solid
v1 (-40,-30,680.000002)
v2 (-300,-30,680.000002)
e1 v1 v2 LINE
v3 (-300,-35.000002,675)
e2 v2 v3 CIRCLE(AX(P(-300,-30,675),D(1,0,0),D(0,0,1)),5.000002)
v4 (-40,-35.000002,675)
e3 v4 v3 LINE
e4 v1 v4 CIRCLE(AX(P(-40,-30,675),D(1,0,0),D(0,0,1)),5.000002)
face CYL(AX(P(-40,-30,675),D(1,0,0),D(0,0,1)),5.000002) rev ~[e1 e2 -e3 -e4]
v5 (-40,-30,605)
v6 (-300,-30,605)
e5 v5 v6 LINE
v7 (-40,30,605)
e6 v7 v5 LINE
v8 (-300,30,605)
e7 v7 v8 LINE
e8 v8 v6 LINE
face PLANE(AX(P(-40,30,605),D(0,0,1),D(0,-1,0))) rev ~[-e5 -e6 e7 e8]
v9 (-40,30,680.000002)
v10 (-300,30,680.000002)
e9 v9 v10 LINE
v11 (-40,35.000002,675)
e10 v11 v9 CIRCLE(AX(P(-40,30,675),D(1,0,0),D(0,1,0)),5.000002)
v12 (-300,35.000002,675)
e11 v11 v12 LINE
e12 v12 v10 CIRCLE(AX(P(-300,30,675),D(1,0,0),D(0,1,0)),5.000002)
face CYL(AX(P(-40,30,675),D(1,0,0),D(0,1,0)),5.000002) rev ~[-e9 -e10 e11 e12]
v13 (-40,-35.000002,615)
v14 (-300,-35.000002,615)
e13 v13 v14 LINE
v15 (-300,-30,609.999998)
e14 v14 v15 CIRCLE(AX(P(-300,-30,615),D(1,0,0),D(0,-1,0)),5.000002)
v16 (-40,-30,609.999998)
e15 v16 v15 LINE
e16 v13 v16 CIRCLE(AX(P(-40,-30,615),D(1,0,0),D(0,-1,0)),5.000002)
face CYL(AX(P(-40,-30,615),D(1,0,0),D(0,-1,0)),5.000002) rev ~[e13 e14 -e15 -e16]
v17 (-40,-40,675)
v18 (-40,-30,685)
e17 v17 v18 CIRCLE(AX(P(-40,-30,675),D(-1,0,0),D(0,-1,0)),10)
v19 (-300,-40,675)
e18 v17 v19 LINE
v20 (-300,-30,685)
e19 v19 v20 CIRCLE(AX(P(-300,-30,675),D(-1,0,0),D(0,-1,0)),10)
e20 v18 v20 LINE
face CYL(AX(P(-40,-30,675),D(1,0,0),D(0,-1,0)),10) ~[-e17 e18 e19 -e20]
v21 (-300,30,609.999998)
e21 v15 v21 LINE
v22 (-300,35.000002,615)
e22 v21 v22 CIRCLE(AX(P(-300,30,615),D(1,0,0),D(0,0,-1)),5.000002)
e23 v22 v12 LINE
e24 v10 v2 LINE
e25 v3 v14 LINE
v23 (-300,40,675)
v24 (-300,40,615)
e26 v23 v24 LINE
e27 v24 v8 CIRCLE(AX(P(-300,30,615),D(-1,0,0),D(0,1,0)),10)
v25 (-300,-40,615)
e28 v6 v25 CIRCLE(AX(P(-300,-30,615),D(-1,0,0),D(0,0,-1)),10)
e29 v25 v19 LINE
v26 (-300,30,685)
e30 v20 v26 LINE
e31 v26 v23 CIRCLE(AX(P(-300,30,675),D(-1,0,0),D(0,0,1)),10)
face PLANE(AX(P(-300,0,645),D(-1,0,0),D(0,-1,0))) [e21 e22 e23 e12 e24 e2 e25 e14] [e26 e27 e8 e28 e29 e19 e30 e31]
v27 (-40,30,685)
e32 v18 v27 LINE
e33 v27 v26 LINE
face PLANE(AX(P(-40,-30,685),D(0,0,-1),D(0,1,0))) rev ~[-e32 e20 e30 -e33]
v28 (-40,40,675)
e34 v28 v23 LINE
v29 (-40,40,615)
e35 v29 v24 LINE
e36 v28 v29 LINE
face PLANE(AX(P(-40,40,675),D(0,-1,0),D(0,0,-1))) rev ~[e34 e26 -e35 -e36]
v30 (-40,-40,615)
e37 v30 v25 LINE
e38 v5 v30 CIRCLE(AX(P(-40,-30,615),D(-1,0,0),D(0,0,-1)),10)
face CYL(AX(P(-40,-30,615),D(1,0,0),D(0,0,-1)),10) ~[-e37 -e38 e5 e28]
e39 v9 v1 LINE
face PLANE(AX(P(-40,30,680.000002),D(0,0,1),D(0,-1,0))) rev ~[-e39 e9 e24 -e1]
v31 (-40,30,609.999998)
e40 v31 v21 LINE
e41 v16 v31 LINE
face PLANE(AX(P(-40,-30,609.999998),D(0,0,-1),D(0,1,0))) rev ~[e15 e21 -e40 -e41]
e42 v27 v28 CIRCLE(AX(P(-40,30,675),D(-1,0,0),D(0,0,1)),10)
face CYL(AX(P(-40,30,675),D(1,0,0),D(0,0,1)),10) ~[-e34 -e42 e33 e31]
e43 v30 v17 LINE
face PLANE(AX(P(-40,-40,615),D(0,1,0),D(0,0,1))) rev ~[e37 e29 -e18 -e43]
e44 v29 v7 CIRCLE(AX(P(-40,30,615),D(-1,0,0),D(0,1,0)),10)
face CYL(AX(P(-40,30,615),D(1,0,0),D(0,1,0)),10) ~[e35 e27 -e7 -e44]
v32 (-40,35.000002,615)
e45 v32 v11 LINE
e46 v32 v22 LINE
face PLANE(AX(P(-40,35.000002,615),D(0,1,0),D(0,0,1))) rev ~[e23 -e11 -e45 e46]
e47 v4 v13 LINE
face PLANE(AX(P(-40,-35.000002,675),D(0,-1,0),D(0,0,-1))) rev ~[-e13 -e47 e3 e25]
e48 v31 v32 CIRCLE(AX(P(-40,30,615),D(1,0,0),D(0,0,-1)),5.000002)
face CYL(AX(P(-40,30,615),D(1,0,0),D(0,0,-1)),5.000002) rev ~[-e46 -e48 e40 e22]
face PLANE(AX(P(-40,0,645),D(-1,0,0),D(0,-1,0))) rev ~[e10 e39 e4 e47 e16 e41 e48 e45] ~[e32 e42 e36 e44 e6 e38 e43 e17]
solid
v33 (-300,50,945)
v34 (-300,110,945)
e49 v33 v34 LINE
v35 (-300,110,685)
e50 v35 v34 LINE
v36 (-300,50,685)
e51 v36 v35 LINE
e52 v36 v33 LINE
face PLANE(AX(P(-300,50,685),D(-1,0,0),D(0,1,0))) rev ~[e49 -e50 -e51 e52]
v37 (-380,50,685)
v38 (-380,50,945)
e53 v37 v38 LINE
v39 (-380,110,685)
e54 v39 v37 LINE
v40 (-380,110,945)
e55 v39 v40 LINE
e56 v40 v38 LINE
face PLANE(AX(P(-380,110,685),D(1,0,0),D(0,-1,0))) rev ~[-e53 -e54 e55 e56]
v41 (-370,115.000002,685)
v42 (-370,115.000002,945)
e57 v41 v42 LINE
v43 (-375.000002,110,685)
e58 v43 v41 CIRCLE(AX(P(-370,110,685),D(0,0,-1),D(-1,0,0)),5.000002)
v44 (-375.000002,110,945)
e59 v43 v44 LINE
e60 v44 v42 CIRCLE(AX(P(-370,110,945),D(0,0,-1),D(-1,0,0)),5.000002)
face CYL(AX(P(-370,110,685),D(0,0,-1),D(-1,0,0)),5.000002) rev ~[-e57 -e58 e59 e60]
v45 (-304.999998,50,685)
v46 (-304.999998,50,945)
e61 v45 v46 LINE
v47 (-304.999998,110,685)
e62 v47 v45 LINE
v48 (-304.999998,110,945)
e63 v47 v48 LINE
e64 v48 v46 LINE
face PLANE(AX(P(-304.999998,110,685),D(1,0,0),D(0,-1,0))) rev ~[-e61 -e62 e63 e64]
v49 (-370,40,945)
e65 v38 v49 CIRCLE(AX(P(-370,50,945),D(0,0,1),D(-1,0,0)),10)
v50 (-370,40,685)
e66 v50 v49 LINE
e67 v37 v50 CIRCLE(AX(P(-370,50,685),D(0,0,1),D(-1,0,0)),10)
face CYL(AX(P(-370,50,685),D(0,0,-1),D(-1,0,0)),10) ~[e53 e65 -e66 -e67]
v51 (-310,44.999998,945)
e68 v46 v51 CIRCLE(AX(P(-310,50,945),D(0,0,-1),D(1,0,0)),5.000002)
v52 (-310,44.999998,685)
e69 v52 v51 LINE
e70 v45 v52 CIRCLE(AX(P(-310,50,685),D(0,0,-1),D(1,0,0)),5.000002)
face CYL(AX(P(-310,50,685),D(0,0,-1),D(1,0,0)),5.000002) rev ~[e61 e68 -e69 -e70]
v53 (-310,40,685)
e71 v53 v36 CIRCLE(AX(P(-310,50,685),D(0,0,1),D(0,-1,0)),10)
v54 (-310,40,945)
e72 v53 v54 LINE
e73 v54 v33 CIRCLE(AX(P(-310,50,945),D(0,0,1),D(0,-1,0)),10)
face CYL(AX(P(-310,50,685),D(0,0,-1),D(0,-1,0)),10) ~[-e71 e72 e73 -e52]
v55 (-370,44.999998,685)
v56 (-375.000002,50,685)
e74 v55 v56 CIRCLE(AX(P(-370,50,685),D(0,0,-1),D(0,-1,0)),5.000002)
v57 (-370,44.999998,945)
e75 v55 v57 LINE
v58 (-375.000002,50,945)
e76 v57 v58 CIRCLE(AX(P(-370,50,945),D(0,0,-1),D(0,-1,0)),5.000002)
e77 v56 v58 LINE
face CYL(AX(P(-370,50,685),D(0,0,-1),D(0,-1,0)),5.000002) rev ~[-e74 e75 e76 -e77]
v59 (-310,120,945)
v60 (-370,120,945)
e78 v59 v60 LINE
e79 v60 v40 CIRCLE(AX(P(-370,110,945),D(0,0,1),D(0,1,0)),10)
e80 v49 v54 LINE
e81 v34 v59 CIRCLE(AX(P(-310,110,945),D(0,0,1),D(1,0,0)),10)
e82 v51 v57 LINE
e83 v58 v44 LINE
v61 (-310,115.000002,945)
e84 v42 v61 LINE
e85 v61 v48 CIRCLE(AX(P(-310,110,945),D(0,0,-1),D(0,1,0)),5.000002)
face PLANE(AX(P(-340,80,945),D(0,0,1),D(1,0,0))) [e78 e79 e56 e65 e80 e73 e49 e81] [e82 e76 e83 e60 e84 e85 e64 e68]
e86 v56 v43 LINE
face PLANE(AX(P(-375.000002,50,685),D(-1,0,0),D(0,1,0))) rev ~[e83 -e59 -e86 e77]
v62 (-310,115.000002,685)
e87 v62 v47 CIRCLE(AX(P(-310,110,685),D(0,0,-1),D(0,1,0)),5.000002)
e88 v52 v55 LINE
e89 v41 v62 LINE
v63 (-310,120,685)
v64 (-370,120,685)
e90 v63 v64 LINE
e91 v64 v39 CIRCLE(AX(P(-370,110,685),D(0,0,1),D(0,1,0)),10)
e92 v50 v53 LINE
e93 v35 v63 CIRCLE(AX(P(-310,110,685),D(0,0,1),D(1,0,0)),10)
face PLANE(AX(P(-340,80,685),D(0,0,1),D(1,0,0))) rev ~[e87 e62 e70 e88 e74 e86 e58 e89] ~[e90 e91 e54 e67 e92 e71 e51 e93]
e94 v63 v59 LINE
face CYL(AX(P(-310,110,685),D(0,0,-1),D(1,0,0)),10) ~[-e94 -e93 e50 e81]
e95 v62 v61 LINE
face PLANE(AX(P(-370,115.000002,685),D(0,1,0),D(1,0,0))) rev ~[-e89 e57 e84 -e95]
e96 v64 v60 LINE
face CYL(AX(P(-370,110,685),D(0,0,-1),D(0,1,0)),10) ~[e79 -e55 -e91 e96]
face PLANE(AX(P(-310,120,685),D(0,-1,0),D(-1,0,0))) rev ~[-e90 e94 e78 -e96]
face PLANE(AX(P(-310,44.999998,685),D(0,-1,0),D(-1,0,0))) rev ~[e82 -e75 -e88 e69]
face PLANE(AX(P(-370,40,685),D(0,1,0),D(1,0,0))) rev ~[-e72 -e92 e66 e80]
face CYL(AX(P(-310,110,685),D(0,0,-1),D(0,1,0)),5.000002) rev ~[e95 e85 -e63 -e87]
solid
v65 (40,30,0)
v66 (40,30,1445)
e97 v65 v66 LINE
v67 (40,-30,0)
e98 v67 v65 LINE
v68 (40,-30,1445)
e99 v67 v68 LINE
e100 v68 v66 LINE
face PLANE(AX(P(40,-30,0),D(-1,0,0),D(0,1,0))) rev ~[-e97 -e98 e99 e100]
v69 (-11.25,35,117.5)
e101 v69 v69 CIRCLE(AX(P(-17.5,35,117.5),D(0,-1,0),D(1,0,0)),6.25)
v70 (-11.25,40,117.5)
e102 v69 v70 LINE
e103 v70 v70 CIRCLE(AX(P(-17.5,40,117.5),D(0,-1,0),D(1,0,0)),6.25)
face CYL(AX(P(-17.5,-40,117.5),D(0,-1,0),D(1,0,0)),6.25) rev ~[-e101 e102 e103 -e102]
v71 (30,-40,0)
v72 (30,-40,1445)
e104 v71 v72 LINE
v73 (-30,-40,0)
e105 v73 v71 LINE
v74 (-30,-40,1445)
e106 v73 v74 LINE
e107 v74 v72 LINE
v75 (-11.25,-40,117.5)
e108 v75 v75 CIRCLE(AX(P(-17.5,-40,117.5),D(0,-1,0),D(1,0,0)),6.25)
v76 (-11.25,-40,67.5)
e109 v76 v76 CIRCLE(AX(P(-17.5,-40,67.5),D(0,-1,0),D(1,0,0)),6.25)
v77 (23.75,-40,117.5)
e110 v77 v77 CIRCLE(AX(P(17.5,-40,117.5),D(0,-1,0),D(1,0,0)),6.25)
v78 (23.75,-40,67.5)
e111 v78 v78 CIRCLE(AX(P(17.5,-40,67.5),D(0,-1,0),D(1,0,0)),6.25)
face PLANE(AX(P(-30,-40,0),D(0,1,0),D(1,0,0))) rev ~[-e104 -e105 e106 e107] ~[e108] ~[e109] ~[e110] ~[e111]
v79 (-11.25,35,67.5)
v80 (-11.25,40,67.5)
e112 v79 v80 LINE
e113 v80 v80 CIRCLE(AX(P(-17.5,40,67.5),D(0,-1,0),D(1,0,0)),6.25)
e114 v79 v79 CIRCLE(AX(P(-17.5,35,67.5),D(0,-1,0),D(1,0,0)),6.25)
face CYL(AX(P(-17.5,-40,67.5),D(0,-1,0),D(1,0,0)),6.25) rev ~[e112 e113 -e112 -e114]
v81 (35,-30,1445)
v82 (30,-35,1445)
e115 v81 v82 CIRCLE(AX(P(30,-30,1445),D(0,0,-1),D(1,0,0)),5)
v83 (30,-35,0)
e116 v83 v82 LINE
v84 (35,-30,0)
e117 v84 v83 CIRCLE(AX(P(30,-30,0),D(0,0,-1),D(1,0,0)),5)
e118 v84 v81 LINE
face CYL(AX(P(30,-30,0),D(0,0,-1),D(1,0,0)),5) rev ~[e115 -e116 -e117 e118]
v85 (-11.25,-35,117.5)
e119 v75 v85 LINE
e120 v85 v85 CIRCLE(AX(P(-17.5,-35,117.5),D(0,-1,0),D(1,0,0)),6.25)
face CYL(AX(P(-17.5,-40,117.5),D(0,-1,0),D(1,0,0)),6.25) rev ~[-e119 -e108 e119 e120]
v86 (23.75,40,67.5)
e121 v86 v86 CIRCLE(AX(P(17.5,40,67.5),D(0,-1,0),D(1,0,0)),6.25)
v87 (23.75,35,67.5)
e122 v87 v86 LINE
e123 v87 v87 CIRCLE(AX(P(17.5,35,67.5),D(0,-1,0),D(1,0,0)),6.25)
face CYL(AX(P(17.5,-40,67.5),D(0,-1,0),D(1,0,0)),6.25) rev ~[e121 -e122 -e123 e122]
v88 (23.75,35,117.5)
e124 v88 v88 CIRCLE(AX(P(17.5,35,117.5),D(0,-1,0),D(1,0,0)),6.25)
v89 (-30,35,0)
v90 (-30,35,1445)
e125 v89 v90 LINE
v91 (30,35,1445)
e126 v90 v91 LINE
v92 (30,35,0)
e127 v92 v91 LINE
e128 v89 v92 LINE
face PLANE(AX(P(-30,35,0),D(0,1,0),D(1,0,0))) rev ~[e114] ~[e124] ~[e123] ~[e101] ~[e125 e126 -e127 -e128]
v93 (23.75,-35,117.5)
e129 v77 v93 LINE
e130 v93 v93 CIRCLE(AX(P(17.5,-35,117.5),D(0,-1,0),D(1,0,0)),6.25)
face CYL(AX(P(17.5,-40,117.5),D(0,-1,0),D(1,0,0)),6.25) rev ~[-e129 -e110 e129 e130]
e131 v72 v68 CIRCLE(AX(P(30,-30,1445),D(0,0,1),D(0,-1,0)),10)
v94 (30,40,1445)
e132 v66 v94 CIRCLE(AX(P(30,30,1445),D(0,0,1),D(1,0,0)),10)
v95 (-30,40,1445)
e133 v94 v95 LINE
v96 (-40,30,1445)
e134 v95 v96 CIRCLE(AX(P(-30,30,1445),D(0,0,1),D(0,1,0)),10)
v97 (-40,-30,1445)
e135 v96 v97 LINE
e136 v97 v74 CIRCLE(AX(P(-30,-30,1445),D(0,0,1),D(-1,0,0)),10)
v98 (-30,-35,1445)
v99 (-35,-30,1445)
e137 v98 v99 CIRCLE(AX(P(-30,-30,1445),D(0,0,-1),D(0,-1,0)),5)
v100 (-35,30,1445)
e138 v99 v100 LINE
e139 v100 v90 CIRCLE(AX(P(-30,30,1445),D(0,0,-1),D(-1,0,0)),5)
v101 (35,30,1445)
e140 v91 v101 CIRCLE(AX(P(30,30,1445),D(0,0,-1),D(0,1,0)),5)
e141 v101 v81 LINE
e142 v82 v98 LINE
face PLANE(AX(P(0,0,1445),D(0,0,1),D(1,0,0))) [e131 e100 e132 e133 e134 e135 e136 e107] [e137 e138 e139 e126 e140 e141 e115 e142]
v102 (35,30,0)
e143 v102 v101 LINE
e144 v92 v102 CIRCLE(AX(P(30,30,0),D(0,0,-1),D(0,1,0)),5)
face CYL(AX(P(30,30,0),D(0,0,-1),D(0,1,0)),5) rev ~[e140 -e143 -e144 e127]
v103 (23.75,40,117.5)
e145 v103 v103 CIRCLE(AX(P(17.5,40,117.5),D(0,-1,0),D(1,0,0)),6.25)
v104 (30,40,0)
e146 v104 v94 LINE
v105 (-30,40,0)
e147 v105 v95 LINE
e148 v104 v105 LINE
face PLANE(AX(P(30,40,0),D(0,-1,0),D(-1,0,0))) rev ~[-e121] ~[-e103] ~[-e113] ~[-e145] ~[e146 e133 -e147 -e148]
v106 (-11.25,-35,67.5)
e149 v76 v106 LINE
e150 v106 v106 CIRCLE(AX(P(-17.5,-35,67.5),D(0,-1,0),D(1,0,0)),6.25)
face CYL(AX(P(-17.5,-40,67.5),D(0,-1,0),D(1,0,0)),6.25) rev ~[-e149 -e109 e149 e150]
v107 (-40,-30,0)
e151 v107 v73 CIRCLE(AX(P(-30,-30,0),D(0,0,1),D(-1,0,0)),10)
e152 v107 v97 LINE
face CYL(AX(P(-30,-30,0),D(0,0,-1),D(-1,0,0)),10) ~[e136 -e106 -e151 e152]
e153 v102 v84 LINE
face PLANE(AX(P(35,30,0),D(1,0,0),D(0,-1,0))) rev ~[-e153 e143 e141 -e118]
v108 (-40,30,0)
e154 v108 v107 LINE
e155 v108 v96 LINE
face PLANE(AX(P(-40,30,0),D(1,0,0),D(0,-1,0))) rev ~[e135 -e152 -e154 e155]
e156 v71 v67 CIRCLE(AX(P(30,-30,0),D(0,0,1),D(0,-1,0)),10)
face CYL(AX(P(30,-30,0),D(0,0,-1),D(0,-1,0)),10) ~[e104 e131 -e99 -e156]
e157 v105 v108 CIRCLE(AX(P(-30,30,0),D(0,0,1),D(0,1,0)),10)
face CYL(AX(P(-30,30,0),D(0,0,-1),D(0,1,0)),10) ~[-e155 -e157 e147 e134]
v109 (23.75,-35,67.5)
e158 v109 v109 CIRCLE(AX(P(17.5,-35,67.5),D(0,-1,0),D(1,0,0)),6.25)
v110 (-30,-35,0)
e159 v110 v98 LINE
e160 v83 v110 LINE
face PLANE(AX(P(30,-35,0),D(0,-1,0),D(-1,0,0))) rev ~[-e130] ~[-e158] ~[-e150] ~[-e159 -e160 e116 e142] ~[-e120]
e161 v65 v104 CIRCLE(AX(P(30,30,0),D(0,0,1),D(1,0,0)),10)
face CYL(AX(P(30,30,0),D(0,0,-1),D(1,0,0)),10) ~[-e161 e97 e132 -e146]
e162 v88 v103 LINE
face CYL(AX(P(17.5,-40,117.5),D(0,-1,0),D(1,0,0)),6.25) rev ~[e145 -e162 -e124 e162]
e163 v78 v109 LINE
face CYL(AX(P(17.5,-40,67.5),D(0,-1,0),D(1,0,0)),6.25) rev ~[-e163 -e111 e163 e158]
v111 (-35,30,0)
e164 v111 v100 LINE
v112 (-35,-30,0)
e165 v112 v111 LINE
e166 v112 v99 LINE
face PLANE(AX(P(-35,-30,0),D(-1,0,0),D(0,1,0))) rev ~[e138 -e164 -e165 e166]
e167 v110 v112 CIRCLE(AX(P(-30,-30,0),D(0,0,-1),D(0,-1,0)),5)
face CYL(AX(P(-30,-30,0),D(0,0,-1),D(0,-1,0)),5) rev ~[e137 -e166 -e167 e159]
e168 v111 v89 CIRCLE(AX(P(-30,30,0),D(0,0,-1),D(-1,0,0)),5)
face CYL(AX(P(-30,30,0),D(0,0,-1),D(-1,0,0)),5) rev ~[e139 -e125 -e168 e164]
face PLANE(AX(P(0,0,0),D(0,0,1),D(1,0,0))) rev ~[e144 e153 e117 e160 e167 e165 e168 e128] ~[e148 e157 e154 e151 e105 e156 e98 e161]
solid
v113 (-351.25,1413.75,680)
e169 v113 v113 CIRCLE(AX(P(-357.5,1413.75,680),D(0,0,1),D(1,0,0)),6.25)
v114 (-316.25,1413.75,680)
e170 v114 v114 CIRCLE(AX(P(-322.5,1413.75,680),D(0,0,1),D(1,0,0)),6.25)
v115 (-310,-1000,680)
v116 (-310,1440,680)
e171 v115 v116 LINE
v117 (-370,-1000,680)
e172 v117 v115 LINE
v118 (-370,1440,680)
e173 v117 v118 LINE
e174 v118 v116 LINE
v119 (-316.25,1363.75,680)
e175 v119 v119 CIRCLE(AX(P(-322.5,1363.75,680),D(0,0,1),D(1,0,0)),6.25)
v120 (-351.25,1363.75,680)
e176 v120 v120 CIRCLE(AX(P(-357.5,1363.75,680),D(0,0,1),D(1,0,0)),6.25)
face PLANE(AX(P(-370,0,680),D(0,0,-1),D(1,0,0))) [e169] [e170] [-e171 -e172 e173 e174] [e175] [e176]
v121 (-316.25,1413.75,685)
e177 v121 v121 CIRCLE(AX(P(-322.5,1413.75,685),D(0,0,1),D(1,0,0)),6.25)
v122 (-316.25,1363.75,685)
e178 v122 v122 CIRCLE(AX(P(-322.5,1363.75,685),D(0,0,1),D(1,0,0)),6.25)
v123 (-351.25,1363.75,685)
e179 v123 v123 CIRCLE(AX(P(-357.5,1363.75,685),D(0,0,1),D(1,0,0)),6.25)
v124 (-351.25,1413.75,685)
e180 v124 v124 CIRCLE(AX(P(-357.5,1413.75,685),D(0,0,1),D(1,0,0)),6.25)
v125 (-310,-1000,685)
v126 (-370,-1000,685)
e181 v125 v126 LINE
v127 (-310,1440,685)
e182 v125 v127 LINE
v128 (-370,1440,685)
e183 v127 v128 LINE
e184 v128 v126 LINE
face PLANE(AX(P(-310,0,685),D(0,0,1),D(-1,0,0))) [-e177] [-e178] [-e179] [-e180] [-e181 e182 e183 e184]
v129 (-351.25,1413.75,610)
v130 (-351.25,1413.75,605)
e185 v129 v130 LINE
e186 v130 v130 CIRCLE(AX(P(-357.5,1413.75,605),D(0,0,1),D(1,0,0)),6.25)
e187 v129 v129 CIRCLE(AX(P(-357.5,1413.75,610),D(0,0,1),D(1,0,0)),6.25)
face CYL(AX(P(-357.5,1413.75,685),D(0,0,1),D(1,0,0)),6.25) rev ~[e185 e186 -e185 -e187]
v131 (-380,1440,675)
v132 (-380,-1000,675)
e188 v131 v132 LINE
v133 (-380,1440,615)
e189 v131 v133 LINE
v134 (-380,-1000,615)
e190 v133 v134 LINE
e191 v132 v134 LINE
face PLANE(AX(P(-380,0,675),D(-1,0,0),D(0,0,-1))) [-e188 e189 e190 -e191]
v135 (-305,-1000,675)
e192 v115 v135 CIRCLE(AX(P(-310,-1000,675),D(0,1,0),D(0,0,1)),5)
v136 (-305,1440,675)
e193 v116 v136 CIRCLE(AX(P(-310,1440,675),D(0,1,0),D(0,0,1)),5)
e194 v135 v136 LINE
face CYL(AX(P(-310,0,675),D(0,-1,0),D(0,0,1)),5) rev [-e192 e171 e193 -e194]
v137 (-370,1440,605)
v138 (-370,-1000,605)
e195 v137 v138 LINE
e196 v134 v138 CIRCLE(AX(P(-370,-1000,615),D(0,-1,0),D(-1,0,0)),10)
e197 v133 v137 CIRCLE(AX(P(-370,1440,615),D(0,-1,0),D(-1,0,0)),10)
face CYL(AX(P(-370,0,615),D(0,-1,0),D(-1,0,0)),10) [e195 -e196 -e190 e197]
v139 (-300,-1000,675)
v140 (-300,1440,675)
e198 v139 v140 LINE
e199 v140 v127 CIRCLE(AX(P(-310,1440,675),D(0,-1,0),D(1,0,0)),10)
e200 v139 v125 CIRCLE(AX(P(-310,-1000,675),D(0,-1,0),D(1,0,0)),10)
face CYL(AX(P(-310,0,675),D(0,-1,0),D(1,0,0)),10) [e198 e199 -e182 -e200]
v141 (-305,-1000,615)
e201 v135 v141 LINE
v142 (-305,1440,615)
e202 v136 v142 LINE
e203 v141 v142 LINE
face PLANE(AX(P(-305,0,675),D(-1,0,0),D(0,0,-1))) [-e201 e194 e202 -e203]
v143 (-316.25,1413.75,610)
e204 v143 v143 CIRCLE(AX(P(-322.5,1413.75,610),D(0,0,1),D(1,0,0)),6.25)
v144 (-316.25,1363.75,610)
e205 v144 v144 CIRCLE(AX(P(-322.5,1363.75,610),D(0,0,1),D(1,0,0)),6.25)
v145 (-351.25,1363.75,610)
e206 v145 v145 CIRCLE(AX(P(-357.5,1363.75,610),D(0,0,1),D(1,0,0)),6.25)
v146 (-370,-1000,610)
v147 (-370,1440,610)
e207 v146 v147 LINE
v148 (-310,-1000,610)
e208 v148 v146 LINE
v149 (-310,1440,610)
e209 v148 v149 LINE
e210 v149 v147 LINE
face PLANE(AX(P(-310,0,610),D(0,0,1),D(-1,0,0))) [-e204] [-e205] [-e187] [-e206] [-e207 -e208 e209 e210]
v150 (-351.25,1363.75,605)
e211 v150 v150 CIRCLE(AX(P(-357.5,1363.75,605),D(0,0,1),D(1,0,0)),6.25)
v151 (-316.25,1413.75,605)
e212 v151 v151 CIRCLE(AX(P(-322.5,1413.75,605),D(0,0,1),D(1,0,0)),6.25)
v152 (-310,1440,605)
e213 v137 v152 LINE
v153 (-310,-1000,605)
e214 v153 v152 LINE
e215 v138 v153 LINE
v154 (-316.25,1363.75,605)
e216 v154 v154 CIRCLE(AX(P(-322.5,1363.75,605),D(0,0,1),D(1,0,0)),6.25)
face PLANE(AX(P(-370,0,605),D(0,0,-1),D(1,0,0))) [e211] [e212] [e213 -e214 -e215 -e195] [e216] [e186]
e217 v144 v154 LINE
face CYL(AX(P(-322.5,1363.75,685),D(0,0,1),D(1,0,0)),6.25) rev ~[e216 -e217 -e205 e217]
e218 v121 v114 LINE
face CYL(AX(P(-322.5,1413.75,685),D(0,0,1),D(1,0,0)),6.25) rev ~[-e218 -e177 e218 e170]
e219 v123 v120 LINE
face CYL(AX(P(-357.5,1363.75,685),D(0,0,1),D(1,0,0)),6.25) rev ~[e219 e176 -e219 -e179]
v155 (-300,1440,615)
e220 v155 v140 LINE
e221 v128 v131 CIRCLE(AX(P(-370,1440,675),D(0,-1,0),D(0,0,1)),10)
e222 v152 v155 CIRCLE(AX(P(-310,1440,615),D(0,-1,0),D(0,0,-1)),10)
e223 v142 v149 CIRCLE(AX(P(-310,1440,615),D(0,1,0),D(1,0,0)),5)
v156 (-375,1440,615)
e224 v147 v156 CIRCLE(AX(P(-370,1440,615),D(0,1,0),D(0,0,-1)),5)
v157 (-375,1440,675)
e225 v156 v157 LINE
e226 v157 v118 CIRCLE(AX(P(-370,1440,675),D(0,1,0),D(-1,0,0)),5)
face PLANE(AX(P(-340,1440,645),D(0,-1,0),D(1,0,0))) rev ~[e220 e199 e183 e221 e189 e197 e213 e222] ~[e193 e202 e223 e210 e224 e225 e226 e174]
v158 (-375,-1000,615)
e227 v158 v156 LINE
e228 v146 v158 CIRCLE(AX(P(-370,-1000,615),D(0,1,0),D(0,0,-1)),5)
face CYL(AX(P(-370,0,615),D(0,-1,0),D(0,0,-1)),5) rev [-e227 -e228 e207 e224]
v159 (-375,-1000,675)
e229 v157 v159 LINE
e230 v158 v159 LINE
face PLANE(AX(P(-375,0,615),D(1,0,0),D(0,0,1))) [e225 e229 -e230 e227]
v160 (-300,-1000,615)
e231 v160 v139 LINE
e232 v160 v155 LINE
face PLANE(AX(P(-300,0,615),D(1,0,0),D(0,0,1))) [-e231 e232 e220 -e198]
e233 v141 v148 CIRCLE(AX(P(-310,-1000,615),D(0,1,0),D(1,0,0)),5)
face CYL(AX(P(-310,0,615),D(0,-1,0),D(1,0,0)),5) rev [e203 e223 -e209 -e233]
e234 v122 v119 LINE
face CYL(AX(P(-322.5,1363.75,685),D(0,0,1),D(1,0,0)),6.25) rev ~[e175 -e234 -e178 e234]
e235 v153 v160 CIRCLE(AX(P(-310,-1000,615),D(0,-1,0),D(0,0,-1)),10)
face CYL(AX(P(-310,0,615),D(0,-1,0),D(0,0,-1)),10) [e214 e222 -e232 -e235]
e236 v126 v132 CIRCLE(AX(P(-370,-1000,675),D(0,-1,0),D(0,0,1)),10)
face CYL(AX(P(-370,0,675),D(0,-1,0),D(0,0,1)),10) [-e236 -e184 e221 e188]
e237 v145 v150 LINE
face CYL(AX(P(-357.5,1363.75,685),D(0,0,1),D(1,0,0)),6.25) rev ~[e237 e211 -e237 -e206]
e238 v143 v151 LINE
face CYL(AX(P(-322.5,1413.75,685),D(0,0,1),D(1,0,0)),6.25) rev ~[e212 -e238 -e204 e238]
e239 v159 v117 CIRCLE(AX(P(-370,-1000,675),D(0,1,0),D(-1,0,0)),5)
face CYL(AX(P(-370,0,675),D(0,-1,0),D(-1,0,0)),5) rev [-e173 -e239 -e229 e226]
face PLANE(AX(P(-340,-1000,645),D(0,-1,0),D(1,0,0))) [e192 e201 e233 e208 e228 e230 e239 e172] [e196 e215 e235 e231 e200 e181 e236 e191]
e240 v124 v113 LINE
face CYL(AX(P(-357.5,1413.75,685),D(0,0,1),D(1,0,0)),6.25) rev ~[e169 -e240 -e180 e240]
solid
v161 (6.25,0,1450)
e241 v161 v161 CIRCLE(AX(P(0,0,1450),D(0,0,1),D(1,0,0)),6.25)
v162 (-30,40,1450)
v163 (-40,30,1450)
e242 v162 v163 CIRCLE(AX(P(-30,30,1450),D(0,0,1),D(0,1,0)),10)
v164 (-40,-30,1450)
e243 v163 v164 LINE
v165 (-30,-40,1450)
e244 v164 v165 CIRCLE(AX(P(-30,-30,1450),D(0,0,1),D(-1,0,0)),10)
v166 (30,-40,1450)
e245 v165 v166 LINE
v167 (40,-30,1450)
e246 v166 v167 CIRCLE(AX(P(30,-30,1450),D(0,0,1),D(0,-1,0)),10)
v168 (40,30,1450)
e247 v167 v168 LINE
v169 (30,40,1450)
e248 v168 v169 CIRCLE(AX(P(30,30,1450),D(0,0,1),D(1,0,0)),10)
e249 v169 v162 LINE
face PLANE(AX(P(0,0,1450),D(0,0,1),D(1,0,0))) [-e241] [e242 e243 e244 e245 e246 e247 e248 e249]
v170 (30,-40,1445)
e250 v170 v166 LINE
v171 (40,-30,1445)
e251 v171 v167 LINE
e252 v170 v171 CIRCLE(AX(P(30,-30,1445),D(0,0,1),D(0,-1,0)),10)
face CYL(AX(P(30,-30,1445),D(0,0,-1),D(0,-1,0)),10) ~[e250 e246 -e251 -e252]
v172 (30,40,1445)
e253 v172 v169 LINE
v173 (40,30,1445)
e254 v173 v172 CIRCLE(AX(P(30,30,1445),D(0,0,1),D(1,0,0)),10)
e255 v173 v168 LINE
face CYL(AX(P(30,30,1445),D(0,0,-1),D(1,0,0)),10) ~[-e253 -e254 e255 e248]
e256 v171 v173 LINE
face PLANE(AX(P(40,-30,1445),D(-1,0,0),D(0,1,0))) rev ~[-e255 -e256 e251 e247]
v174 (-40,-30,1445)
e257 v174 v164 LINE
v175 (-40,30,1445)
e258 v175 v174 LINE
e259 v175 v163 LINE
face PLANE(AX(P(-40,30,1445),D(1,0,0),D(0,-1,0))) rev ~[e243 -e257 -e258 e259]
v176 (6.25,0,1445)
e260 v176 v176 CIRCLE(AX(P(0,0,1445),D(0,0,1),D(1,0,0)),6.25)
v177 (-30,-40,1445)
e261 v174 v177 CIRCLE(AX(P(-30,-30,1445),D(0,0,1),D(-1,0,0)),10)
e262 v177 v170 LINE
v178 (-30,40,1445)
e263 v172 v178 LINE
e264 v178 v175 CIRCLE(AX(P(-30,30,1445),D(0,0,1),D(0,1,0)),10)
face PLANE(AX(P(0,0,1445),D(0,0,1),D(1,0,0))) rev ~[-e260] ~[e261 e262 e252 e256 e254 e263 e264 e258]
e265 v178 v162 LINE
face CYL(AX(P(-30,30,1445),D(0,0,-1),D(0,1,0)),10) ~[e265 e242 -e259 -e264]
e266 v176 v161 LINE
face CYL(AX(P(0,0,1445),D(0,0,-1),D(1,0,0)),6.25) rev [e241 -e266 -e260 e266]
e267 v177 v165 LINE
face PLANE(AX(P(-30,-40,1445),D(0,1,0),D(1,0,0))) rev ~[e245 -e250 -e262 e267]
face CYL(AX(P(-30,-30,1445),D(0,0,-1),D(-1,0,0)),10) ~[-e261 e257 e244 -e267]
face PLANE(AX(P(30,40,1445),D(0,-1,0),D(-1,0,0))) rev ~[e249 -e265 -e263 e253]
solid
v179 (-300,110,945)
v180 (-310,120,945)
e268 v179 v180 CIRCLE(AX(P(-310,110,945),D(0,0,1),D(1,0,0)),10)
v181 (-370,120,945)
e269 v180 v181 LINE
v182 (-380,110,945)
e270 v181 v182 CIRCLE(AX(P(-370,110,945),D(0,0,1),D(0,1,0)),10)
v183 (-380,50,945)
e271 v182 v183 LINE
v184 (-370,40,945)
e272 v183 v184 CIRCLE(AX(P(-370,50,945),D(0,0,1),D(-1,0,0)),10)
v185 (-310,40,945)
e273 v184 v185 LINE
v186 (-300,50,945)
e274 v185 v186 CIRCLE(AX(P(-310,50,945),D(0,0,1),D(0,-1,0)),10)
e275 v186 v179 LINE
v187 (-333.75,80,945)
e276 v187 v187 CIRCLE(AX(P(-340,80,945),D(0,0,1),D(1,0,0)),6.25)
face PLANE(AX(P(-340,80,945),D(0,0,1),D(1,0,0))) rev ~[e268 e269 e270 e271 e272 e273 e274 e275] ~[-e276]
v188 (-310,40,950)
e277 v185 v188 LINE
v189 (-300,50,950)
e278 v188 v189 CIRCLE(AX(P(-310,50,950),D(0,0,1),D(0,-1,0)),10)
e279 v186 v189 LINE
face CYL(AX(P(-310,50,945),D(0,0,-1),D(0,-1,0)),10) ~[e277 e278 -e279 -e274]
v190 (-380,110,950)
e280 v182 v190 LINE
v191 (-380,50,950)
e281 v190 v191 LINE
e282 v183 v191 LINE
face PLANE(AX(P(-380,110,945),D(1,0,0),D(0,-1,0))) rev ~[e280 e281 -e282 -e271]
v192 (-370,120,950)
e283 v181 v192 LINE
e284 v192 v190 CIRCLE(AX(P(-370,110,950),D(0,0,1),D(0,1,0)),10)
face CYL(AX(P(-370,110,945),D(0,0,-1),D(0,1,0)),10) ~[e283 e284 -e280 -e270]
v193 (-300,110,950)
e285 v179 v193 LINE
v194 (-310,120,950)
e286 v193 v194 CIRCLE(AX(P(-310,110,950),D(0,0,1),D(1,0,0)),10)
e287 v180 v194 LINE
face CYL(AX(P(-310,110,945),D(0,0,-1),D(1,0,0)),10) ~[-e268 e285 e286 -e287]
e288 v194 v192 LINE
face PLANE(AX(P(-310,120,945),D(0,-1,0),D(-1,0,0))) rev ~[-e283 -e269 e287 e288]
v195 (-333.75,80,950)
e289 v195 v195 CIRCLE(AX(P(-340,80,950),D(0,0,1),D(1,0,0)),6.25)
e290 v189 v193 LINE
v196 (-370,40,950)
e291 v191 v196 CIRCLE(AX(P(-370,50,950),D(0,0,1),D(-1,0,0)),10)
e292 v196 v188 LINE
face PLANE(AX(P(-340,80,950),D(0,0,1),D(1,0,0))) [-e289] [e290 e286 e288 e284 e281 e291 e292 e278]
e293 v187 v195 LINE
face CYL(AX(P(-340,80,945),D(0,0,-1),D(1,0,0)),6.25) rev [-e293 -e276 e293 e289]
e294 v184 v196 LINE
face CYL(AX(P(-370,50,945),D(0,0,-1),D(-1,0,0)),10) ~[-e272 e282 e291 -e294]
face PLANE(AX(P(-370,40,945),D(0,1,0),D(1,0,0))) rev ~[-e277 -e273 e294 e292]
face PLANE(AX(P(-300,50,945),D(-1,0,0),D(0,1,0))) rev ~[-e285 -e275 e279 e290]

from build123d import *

# Parameters (mm, degrees)
F1_DEPTH      = 1445
F3_DEPTH      = 260
F5_DEPTH      = 1000
F5_DEPTH_BACK = 1440
F6_R          = 6.25
F7_DEPTH      = 685.001
F8_R          = 6.25
F9_DEPTH      = 1480.001
F10_R         = 6.25
F11_DEPTH     = 5
F13_DEPTH     = 260
F14_R         = 6.25
F15_DEPTH     = 5


with BuildPart() as f1:
    # F0 (on Top) → F1 (new body)
    with BuildSketch(Plane.XY):
        with BuildLine():
            ThreePointArc((40, 30), (37.0710678119, 37.0710678119), (30, 40))
            Line((30, 40), (-30, 40))
            ThreePointArc((-30, 40), (-37.0710678119, 37.0710678119), (-40, 30))
            Line((-40, 30), (-40, -30))
            ThreePointArc((-40, -30), (-37.0710678119, -37.0710678119), (-30, -40))
            Line((-30, -40), (30, -40))
            ThreePointArc((30, -40), (37.0710678119, -37.0710678119), (40, -30))
            Line((40, -30), (40, 30))
        make_face()
        with BuildLine():
            ThreePointArc((30, 35.000000149), (33.5355340113, 33.5355340113), (35.000000149, 30))
            Line((35.000000149, 30), (35.000000149, -30))
            ThreePointArc((35.000000149, -30), (33.5355340113, -33.5355340113), (30, -35.000000149))
            Line((30, -35.000000149), (-30, -35.000000149))
            ThreePointArc((-30, -35.000000149), (-33.5355340113, -33.5355340113), (-35.000000149, -30))
            Line((-35.000000149, -30), (-35.000000149, 30))
            ThreePointArc((-35.000000149, 30), (-33.5355340113, 33.5355340113), (-30, 35.000000149))
            Line((-30, 35.000000149), (30, 35.000000149))
        make_face(mode=Mode.SUBTRACT)
    extrude(amount=F1_DEPTH)

    # F8 (on face) → F9 (cut, through all)
    with BuildSketch(Plane.XZ.offset(40)):
        with Locations((-17.5, 117.5)):
            Circle(F8_R)
        with Locations((-17.5, 67.5)):
            Circle(F8_R)
        with Locations((17.5, 67.5)):
            Circle(F8_R)
        with Locations((17.5, 117.5)):
            Circle(F8_R)
    extrude(amount=-F9_DEPTH, mode=Mode.SUBTRACT)


with BuildPart() as f3:
    # F2 (on face) → F3 (new body)
    with BuildSketch(Plane(origin=(-40, 0, 0), x_dir=(0, -1, 0), z_dir=(-1, 0, 0))):
        with BuildLine():
            ThreePointArc((40, 675), (37.0710678119, 682.0710678119), (30, 685))
            Line((30, 685), (-30, 685))
            ThreePointArc((-30, 685), (-37.0710678119, 682.0710678119), (-40, 675))
            Line((-40, 675), (-40, 615))
            ThreePointArc((-40, 615), (-37.0710678119, 607.9289321881), (-30, 605))
            Line((-30, 605), (30, 605))
            ThreePointArc((30, 605), (37.0710678119, 607.9289321881), (40, 615))
            Line((40, 615), (40, 675))
        make_face()
        with BuildLine():
            ThreePointArc((30, 680.0000023842), (33.5355355918, 678.5355355918), (35.0000023842, 675))
            Line((35.0000023842, 675), (35.0000023842, 615))
            ThreePointArc((35.0000023842, 615), (33.5355355918, 611.4644644082), (30, 609.9999976158))
            Line((30, 609.9999976158), (-30, 609.9999976158))
            ThreePointArc((-30, 609.9999976158), (-33.5355355918, 611.4644644082), (-35.0000023842, 615))
            Line((-35.0000023842, 615), (-35.0000023842, 675))
            ThreePointArc((-35.0000023842, 675), (-33.5355355918, 678.5355355918), (-30, 680.0000023842))
            Line((-30, 680.0000023842), (30, 680.0000023842))
        make_face(mode=Mode.SUBTRACT)
    extrude(amount=F3_DEPTH)


with BuildPart() as f5:
    # F4 (on Front) → F5 (new body, two sides)
    with BuildSketch(Plane.XZ) as f5_sk:
        with BuildLine():
            Line((-310, 685), (-370, 685))
            ThreePointArc((-370, 685), (-377.0710678119, 682.0710678119), (-380, 675))
            Line((-380, 675), (-380, 615))
            ThreePointArc((-380, 615), (-377.0710678119, 607.9289321881), (-370, 605))
            Line((-370, 605), (-310, 605))
            ThreePointArc((-310, 605), (-302.9289321881, 607.9289321881), (-300, 615))
            Line((-300, 615), (-300, 675))
            ThreePointArc((-300, 675), (-302.9289321881, 682.0710678119), (-310, 685))
        make_face()
        with BuildLine():
            ThreePointArc((-375, 675), (-373.5355339059, 678.5355339059), (-370, 680))
            Line((-370, 680), (-310, 680))
            ThreePointArc((-310, 680), (-306.4644660941, 678.5355339059), (-305, 675))
            Line((-305, 675), (-305, 615))
            ThreePointArc((-305, 615), (-306.4644660941, 611.4644660941), (-310, 610))
            Line((-310, 610), (-370, 610))
            ThreePointArc((-370, 610), (-373.5355339059, 611.4644660941), (-375, 615))
            Line((-375, 615), (-375, 675))
        make_face(mode=Mode.SUBTRACT)
    extrude(amount=F5_DEPTH)
    extrude(f5_sk.sketch, amount=-F5_DEPTH_BACK)

    # F6 (on face) → F7 (cut, through all)
    with BuildSketch(Plane.XY.offset(685)):
        with Locations((-357.5, 1413.75)):
            Circle(F6_R)
        with Locations((-357.5, 1363.75)):
            Circle(F6_R)
        with Locations((-322.5, 1363.75)):
            Circle(F6_R)
        with Locations((-322.5, 1413.75)):
            Circle(F6_R)
    extrude(amount=-F7_DEPTH, mode=Mode.SUBTRACT)


with BuildPart() as f11:
    # F10 (on face) → F11 (new body)
    with BuildSketch(Plane.XY.offset(1445)):
        with BuildLine():
            Line((30, 40), (-30, 40))
            ThreePointArc((-30, 40), (-37.0710678119, 37.0710678119), (-40, 30))
            Line((-40, 30), (-40, -30))
            ThreePointArc((-40, -30), (-37.0710678119, -37.0710678119), (-30, -40))
            Line((-30, -40), (30, -40))
            ThreePointArc((30, -40), (37.0710678119, -37.0710678119), (40, -30))
            Line((40, -30), (40, 30))
            ThreePointArc((40, 30), (37.0710678119, 37.0710678119), (30, 40))
        make_face()
        Circle(F10_R, mode=Mode.SUBTRACT)
    extrude(amount=F11_DEPTH)


with BuildPart() as f13:
    # F12 (on face) → F13 (new body)
    with BuildSketch(Plane.XY.offset(685)):
        with BuildLine():
            ThreePointArc((-300, 110), (-302.9289321881, 117.0710678119), (-310, 120))
            Line((-310, 120), (-370, 120))
            ThreePointArc((-370, 120), (-377.0710678119, 117.0710678119), (-380, 110))
            Line((-380, 110), (-380, 50))
            ThreePointArc((-380, 50), (-377.0710678119, 42.9289321881), (-370, 40))
            Line((-370, 40), (-310, 40))
            ThreePointArc((-310, 40), (-302.9289321881, 42.9289321881), (-300, 50))
            Line((-300, 50), (-300, 110))
        make_face()
        with BuildLine():
            ThreePointArc((-310, 115.0000020862), (-306.4644646189, 113.5355353811), (-304.9999979138, 110))
            Line((-304.9999979138, 110), (-304.9999979138, 50))
            ThreePointArc((-304.9999979138, 50), (-306.4644646189, 46.4644646189), (-310, 44.9999979138))
            Line((-310, 44.9999979138), (-370, 44.9999979138))
            ThreePointArc((-370, 44.9999979138), (-373.5355353811, 46.4644646189), (-375.0000020862, 50))
            Line((-375.0000020862, 50), (-375.0000020862, 110))
            ThreePointArc((-375.0000020862, 110), (-373.5355353811, 113.5355353811), (-370, 115.0000020862))
            Line((-370, 115.0000020862), (-310, 115.0000020862))
        make_face(mode=Mode.SUBTRACT)
    extrude(amount=F13_DEPTH)


with BuildPart() as f15:
    # F14 (on face) → F15 (new body)
    with BuildSketch(Plane.XY.offset(945)):
        with BuildLine():
            ThreePointArc((-300, 110), (-302.9289321881, 117.0710678119), (-310, 120))
            Line((-310, 120), (-370, 120))
            ThreePointArc((-370, 120), (-377.0710678119, 117.0710678119), (-380, 110))
            Line((-380, 110), (-380, 50))
            ThreePointArc((-380, 50), (-377.0710678119, 42.9289321881), (-370, 40))
            Line((-370, 40), (-310, 40))
            ThreePointArc((-310, 40), (-302.9289321881, 42.9289321881), (-300, 50))
            Line((-300, 50), (-300, 110))
        make_face()
        with Locations((-340, 80)):
            Circle(F14_R, mode=Mode.SUBTRACT)
    extrude(amount=F15_DEPTH)


solid = Compound([f1.part, f3.part, f5.part, f11.part, f13.part, f15.part])
